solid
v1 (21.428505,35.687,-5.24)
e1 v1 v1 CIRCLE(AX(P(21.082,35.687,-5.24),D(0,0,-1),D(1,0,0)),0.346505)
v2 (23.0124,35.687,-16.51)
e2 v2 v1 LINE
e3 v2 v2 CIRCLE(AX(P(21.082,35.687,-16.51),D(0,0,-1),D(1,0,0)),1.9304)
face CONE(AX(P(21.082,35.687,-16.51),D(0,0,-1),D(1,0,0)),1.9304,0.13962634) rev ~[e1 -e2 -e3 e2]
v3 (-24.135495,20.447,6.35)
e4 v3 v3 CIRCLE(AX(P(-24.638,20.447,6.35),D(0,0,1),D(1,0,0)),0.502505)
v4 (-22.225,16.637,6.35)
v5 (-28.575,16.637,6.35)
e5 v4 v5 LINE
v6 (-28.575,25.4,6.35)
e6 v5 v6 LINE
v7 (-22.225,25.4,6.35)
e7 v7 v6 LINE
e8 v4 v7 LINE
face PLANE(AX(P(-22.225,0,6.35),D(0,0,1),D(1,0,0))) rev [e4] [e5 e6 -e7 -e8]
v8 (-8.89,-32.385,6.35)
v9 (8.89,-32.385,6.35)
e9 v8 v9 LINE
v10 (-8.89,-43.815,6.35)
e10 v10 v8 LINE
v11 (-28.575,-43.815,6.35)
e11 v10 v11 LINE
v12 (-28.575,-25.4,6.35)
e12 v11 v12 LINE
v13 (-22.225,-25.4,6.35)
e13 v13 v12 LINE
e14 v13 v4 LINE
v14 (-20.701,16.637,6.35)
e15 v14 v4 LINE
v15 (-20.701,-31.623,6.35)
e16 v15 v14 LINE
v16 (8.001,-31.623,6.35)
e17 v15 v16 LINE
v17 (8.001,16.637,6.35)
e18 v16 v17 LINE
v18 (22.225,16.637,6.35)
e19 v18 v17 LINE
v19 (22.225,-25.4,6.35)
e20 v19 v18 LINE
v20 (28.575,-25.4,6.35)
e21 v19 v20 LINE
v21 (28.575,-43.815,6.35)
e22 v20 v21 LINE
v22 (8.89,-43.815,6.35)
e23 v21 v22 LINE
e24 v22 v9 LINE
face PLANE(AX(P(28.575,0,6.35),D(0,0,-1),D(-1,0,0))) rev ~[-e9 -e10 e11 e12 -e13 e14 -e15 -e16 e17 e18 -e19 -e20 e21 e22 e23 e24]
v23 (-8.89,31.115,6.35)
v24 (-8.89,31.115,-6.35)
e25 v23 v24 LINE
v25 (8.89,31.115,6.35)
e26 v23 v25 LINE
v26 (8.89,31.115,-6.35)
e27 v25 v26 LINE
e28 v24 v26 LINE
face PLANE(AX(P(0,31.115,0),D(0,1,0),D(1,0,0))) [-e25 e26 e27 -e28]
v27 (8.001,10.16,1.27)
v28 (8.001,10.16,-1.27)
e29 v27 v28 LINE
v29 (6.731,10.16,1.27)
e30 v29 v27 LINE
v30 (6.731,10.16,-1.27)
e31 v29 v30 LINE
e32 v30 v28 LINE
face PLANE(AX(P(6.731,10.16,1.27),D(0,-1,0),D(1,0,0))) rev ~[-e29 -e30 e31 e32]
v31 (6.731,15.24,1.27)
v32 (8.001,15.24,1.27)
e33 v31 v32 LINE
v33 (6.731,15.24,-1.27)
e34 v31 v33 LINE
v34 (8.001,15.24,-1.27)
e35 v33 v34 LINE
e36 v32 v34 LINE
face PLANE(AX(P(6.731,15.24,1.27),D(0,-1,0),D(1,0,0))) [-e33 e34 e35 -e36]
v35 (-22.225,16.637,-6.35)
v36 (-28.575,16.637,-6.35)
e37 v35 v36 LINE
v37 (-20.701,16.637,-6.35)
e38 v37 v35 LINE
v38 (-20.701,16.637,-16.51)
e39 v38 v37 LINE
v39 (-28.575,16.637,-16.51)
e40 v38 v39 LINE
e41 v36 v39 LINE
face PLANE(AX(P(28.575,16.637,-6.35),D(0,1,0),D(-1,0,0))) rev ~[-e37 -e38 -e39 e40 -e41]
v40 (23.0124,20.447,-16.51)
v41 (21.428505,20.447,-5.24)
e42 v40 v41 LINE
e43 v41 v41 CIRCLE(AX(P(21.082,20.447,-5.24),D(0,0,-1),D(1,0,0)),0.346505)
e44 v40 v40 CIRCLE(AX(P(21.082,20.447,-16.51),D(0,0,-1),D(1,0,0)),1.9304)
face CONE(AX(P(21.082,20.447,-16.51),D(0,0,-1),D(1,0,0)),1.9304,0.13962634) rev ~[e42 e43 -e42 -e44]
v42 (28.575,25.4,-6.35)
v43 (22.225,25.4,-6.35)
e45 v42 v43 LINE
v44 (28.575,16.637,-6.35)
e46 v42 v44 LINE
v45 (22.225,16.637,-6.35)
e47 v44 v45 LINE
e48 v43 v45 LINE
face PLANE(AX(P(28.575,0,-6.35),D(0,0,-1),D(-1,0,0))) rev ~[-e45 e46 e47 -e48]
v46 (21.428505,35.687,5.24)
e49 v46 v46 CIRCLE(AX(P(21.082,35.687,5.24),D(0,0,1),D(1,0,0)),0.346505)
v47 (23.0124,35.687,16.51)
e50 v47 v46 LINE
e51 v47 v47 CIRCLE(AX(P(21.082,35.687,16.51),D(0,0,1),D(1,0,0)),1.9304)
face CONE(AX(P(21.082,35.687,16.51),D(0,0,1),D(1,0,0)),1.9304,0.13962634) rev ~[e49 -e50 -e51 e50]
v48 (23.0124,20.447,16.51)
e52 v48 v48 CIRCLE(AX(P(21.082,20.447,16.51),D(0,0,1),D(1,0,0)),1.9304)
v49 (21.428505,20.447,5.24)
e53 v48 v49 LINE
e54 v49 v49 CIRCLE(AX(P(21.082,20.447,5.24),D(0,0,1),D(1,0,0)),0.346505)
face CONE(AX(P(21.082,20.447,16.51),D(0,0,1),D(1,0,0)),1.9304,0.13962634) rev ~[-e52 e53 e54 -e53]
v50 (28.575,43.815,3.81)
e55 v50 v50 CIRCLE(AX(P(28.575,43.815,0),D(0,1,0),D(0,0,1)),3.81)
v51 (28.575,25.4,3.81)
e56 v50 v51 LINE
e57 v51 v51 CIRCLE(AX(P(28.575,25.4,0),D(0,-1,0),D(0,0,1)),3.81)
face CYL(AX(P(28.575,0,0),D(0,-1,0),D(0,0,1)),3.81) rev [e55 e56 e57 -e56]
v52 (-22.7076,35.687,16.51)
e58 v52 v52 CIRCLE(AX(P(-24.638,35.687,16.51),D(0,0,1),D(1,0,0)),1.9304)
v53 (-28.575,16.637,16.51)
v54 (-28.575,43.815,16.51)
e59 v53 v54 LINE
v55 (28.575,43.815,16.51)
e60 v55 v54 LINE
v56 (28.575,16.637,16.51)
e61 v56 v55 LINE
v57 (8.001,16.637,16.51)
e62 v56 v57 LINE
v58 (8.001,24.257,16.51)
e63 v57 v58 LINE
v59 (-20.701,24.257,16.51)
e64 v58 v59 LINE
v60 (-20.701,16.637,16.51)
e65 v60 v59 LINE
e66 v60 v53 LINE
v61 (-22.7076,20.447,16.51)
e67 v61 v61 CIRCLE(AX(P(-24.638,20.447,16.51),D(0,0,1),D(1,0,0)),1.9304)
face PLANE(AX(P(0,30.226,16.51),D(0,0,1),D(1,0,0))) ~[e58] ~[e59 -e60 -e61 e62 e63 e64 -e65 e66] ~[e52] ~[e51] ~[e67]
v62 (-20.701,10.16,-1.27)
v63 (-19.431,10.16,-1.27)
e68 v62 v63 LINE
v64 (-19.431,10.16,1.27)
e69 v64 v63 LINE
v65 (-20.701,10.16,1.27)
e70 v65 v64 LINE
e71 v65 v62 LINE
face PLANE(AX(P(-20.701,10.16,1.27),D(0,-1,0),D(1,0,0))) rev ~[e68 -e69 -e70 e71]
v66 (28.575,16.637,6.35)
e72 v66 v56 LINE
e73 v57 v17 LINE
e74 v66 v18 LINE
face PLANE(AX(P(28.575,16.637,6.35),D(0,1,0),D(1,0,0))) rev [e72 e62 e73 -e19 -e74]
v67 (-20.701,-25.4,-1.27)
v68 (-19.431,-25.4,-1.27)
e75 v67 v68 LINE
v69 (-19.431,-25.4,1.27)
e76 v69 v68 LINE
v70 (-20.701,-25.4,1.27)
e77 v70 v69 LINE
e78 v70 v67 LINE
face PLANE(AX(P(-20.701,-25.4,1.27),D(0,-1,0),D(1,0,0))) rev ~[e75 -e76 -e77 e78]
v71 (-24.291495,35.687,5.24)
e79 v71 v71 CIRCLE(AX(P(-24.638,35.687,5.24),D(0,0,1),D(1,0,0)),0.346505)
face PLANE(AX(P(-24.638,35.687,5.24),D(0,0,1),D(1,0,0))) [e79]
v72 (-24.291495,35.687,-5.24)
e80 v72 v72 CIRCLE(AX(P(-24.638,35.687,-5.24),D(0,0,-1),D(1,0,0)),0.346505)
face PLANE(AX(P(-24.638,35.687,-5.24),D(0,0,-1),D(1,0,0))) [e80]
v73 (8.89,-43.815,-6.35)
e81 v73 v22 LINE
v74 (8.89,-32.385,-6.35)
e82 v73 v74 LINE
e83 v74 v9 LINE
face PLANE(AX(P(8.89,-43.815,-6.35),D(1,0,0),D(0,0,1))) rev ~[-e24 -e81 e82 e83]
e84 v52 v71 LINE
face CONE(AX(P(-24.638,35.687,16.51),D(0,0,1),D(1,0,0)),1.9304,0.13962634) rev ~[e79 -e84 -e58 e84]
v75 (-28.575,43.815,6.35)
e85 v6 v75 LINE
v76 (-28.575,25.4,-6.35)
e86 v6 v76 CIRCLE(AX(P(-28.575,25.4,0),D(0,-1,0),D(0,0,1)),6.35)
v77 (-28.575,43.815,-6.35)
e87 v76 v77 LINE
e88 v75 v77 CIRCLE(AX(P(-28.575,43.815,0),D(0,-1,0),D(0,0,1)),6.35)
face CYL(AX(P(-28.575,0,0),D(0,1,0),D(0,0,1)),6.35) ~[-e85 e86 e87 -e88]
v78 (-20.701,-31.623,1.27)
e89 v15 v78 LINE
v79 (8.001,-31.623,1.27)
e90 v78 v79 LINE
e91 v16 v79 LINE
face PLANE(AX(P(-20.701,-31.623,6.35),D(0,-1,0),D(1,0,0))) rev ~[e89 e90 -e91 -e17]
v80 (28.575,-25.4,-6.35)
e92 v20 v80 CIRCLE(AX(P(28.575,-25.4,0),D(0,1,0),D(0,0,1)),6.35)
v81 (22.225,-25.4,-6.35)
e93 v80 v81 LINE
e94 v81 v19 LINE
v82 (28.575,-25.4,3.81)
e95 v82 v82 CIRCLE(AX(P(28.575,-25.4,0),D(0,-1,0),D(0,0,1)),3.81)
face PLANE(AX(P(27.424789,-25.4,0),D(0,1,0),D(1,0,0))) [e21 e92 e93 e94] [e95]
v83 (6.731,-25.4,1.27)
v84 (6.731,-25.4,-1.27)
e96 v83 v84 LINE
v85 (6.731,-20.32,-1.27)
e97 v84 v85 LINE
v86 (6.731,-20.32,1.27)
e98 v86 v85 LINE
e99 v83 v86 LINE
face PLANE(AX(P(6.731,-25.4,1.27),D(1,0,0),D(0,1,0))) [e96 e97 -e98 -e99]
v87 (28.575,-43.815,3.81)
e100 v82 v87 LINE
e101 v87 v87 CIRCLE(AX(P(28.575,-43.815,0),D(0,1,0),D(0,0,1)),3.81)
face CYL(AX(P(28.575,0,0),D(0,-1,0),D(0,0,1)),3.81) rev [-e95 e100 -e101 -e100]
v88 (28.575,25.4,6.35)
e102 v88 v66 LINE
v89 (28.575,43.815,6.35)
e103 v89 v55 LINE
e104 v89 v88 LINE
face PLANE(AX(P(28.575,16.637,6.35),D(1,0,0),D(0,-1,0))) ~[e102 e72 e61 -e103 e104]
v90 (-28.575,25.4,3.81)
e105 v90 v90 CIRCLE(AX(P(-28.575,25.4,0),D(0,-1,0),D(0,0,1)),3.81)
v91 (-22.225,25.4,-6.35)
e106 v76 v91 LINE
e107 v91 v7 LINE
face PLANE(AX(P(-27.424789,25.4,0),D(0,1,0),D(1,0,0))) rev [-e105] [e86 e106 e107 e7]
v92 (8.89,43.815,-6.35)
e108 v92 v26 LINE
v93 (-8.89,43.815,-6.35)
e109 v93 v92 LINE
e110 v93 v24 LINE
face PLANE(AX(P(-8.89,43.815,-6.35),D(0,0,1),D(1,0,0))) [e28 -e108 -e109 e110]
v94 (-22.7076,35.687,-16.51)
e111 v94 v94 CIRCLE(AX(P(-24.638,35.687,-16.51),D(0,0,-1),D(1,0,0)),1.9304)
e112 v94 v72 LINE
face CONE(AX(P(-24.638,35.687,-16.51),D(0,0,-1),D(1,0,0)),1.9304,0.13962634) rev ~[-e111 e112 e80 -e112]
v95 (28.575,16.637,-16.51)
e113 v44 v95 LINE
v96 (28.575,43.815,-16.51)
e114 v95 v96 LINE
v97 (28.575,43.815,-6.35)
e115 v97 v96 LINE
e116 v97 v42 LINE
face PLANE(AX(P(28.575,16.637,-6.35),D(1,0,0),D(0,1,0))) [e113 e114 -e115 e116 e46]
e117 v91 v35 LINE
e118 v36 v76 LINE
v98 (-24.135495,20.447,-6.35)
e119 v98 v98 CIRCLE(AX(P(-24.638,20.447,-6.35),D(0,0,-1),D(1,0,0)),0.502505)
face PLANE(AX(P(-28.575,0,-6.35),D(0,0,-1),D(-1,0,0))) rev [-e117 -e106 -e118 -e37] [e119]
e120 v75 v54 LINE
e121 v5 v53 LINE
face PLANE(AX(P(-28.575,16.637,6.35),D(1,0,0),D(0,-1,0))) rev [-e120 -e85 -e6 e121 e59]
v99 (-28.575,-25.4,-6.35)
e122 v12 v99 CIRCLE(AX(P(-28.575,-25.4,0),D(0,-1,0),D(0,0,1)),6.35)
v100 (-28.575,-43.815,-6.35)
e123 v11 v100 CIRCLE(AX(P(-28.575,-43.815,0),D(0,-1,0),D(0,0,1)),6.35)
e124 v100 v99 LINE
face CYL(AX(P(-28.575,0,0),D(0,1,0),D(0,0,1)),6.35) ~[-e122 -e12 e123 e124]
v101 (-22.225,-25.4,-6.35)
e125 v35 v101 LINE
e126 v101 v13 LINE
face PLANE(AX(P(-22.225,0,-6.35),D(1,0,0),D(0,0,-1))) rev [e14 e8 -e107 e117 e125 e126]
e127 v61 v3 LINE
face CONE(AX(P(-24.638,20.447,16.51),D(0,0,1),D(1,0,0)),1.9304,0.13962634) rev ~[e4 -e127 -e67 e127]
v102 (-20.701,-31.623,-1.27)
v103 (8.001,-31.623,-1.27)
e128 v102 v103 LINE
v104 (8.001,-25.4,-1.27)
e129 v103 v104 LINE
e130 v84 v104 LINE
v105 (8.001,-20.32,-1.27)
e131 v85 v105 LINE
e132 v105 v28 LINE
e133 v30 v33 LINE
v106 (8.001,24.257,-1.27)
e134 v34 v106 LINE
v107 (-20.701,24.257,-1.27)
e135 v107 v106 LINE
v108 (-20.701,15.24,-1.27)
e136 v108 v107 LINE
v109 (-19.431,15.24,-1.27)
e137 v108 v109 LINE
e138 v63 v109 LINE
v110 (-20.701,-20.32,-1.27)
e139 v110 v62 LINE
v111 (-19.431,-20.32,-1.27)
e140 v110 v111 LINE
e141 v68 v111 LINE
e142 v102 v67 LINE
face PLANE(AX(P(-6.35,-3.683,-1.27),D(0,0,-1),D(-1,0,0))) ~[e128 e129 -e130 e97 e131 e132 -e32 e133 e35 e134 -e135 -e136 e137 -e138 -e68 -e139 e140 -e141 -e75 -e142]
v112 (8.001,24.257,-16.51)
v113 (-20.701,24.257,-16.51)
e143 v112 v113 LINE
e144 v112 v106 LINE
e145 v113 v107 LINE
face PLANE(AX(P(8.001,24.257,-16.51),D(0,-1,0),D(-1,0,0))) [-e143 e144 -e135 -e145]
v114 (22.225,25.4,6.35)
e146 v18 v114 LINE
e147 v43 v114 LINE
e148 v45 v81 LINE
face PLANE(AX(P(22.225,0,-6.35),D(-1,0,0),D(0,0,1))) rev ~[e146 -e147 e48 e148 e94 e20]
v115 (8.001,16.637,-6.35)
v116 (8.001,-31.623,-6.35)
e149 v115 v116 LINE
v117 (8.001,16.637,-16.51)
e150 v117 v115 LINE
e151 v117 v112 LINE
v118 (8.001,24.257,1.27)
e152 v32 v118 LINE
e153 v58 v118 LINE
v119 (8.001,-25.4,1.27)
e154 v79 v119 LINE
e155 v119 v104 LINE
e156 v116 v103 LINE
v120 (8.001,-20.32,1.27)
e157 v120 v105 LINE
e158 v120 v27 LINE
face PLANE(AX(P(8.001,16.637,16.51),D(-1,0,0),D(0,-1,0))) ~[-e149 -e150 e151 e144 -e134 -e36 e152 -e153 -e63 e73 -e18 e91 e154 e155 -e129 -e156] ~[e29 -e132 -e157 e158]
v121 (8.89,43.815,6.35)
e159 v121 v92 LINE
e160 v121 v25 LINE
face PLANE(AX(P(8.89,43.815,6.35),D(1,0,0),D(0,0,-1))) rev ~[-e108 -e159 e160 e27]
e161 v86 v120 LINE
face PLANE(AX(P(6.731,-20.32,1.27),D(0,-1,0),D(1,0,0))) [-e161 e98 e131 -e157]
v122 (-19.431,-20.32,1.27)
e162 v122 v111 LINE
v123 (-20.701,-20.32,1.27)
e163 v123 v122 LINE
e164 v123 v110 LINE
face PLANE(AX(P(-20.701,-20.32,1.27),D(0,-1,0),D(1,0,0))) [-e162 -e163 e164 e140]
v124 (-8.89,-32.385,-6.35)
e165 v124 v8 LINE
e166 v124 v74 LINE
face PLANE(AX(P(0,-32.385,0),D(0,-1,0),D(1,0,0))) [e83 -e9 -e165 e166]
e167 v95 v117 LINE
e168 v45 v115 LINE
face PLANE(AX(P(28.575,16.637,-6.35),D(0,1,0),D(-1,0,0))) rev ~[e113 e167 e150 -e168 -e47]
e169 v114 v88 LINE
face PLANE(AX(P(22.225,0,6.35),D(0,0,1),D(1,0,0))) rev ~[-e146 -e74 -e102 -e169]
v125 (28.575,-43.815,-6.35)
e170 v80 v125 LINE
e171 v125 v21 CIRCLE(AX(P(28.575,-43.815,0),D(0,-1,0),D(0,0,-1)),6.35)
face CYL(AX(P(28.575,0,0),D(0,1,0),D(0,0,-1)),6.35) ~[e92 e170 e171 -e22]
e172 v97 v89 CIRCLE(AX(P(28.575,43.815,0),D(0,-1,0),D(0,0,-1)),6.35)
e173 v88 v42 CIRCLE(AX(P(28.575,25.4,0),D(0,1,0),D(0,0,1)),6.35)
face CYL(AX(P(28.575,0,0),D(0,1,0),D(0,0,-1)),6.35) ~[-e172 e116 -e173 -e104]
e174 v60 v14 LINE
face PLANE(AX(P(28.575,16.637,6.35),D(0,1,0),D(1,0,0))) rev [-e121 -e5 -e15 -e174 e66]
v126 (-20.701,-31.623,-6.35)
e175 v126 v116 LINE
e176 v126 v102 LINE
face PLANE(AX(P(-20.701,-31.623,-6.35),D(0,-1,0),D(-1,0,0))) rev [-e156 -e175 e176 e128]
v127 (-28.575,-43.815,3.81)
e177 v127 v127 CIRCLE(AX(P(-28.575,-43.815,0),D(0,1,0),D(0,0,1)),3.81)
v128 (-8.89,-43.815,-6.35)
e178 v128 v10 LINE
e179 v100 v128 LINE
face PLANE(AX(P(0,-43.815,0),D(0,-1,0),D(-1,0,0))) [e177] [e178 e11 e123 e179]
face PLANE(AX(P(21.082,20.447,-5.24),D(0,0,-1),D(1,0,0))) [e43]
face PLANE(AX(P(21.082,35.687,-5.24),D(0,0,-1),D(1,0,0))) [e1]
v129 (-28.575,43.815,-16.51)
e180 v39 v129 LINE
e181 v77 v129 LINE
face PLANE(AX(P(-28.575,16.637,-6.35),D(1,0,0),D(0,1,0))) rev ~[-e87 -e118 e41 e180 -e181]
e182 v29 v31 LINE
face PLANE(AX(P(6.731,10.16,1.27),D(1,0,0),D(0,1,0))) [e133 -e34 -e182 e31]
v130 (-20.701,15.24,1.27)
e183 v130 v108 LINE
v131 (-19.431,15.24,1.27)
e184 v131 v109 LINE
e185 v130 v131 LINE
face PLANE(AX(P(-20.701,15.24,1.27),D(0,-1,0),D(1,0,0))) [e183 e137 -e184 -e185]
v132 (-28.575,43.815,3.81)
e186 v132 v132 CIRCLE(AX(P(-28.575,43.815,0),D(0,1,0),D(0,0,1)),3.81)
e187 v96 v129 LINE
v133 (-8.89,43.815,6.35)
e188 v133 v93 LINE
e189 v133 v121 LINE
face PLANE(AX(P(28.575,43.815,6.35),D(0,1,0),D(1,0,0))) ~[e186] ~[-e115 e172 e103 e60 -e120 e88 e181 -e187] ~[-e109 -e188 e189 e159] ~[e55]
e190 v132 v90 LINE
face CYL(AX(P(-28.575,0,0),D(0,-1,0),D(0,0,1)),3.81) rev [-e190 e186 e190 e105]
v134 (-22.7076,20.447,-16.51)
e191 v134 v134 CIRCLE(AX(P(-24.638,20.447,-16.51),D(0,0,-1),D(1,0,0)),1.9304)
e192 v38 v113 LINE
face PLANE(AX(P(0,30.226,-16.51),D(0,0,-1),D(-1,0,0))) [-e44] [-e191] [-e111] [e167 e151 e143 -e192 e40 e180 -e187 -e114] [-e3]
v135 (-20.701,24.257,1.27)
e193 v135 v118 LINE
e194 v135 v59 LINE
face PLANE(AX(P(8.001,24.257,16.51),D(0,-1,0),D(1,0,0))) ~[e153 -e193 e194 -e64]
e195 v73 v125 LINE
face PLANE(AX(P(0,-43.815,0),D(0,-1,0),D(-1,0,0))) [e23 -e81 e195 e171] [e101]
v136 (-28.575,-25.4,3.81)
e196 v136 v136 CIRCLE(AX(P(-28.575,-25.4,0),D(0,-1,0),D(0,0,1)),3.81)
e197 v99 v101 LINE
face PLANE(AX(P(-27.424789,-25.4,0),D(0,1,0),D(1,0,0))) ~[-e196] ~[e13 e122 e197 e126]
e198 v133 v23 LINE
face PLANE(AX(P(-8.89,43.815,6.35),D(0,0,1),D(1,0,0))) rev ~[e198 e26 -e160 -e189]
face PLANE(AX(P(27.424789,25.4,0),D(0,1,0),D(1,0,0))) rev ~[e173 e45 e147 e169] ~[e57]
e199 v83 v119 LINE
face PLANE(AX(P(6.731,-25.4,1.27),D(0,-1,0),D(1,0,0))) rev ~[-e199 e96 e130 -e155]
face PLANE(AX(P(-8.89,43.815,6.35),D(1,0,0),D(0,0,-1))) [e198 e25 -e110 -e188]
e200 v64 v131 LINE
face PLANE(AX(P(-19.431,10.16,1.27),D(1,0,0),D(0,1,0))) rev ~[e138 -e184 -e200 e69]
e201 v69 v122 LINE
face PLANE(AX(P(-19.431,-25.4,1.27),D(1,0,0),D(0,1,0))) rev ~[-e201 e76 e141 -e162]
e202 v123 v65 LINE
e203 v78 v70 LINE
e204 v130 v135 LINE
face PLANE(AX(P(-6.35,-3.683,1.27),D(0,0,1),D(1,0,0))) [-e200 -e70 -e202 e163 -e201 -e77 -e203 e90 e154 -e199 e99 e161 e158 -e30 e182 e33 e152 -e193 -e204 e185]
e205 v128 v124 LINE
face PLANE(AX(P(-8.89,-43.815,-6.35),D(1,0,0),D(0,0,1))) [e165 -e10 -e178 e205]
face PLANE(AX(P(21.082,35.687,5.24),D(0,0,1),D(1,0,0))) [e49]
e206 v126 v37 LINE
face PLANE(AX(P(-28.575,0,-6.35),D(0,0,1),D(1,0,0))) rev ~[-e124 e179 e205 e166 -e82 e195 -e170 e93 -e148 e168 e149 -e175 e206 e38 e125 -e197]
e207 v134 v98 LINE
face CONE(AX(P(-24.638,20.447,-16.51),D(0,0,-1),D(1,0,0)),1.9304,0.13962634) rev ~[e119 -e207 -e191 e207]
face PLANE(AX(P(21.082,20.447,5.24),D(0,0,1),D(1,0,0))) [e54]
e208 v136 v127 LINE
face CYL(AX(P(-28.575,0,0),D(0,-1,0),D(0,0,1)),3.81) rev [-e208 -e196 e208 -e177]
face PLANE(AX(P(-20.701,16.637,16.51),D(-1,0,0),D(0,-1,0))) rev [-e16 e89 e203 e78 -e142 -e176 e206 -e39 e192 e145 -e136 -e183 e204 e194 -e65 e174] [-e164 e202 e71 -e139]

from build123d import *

# Parameters (mm, degrees)
SKETCH2_R                    = 3.81
BOSS_EXTRUDE1_DEPTH          = 43.815
SKETCH7_W                    = 28.702
SKETCH7_H                    = 55.88
CUT_EXTRUDE3_DEPTH           = 5.08
SKETCH11_W                   = 57.15
SKETCH11_H                   = 27.178
BOSS_EXTRUDE2_DEPTH          = 10.16
SKETCH14_W                   = 28.702
SKETCH14_H                   = 7.62
CUT_EXTRUDE4_DEPTH           = 10.16
SKETCH16_W                   = 17.78
SKETCH16_H                   = 12.7
CUT_EXTRUDE5_DEPTH           = 12.7
SKETCH17_W                   = 17.78
SKETCH17_H                   = 12.7
CUT_EXTRUDE6_DEPTH           = 11.43
CUT_EXTRUDE7_DEPTH           = 25.4
SKETCH21_W                   = 1.27
SKETCH21_H                   = 5.08
CUT_EXTRUDE8_DEPTH           = 59.784677
SKETCH23_R                   = 1.9304
CUT_EXTRUDE9_DEPTH           = 11.27
CUT_EXTRUDE9_DRAFT           = -8
CUT_EXTRUDE9_PROFILE_2_DEPTH = 11.27
CUT_EXTRUDE9_PROFILE_2_DRAFT = -8
CUT_EXTRUDE9_PROFILE_3_DEPTH = 11.27
CUT_EXTRUDE9_PROFILE_3_DRAFT = -8
CUT_EXTRUDE9_PROFILE_4_DEPTH = 11.27
CUT_EXTRUDE9_PROFILE_4_DRAFT = -8
MIRROR8_COPY_1_SKETCH_R      = 1.9304
MIRROR8_COPY_1_DEPTH         = 11.27
MIRROR8_COPY_1_DRAFT         = -8
MIRROR8_COPY_2_SKETCH_R      = 1.9304
MIRROR8_COPY_2_DEPTH         = 11.27
MIRROR8_COPY_2_DRAFT         = -8
MIRROR8_COPY_3_SKETCH_R      = 1.9304
MIRROR8_COPY_3_DEPTH         = 11.27
MIRROR8_COPY_3_DRAFT         = -8
MIRROR8_COPY_4_SKETCH_R      = 1.9304
MIRROR8_COPY_4_DEPTH         = 11.27
MIRROR8_COPY_4_DRAFT         = -8
MIRROR8_COPY_5_SKETCH_R      = 1.9304
MIRROR8_COPY_5_DEPTH         = 11.27
MIRROR8_COPY_5_DRAFT         = -8
MIRROR8_COPY_6_SKETCH_R      = 1.9304
MIRROR8_COPY_6_DEPTH         = 11.27
MIRROR8_COPY_6_DRAFT         = -8
MIRROR8_COPY_7_SKETCH_R      = 1.9304
MIRROR8_COPY_7_DEPTH         = 11.27
MIRROR8_COPY_7_DRAFT         = -8


with BuildPart() as part:
    # Sketch2 → Boss-Extrude1 (new, symmetric)
    with BuildSketch(Plane(origin=(0, 0, 0), x_dir=(1, 0, 0), z_dir=(0, 1, 0))):
        with BuildLine():
            Line((-28.575, 6.35), (28.575, 6.35))
            ThreePointArc((28.575, 6.35), (34.925, 0), (28.575, -6.35))
            Line((28.575, -6.35), (-28.575, -6.35))
            ThreePointArc((-28.575, -6.35), (-34.925, 0), (-28.575, 6.35))
        make_face()
        with Locations(Location((28.575, 0, 0), (0, 0, 270))):
            Circle(SKETCH2_R, mode=Mode.SUBTRACT)
        with Locations(Location((-28.575, 0, 0), (0, 0, 270))):
            Circle(SKETCH2_R, mode=Mode.SUBTRACT)
    extrude(amount=BOSS_EXTRUDE1_DEPTH, both=True)

    # Sketch7 → Cut-Extrude3 (cut)
    with BuildSketch(Plane.XY.offset(6.35)):
        with Locations((-6.35, -3.683)):
            Rectangle(SKETCH7_W, SKETCH7_H)
    cut_extrude3 = extrude(amount=-CUT_EXTRUDE3_DEPTH, mode=Mode.SUBTRACT)

    # Mirror1: Cut-Extrude3 across plane
    add(cut_extrude3.mirror(Plane.XY), mode=Mode.SUBTRACT)

    # Sketch11 → Boss-Extrude2 (add)
    with BuildSketch(Plane(origin=(0, 0, -6.35), x_dir=(-1, 0, 0), z_dir=(0, 0, -1))):
        with Locations((0, 30.226)):
            Rectangle(SKETCH11_W, SKETCH11_H)
    boss_extrude2 = extrude(amount=BOSS_EXTRUDE2_DEPTH)

    # Mirror3: Boss-Extrude2 across plane
    add(boss_extrude2.mirror(Plane.XY))

    # Sketch14 → Cut-Extrude4 (cut)
    with BuildSketch(Plane(origin=(0, 0, -16.51), x_dir=(-1, 0, 0), z_dir=(0, 0, -1))):
        with Locations((6.35, 20.447)):
            Rectangle(SKETCH14_W, SKETCH14_H)
    cut_extrude4 = extrude(amount=-CUT_EXTRUDE4_DEPTH, mode=Mode.SUBTRACT)

    # Mirror4: Cut-Extrude4 across plane
    add(cut_extrude4.mirror(Plane.XY), mode=Mode.SUBTRACT)

    # Sketch16 → Cut-Extrude5 (cut)
    with BuildSketch(Plane(origin=(0, 43.815, 0), x_dir=(1, 0, 0), z_dir=(0, 1, 0))):
        Rectangle(SKETCH16_W, SKETCH16_H)
    extrude(amount=-CUT_EXTRUDE5_DEPTH, mode=Mode.SUBTRACT)

    # Sketch17 → Cut-Extrude6 (cut)
    with BuildSketch(Plane.XZ.offset(43.815)):
        Rectangle(SKETCH17_W, SKETCH17_H)
    extrude(amount=-CUT_EXTRUDE6_DEPTH, mode=Mode.SUBTRACT)

    # Sketch19 → Cut-Extrude7 (cut, symmetric)
    with BuildSketch(Plane(origin=(0, 0, 0), x_dir=(1, 0, 0), z_dir=(0, 1, 0))):
        with BuildLine():
            Line((22.225, 6.35), (22.225, -6.35))
            Line((22.225, -6.35), (28.575, -6.35))
            ThreePointArc((28.575, -6.35), (34.925, 0), (28.575, 6.35))
            Line((28.575, 6.35), (22.225, 6.35))
        make_face()
    cut_extrude7 = extrude(amount=CUT_EXTRUDE7_DEPTH, both=True, mode=Mode.SUBTRACT)

    # Mirror5: Cut-Extrude7 across plane
    add(cut_extrude7.mirror(Plane(origin=(0, 0, 0), x_dir=(0, 0, 1), z_dir=(1, 0, 0))), mode=Mode.SUBTRACT)

    # Sketch21 → Cut-Extrude8 (cut, through all)
    with BuildSketch(Plane.XY.offset(1.27)):
        with Locations((7.366, 12.7)):
            Rectangle(SKETCH21_W, SKETCH21_H)
        with Locations((-20.066, 12.7)):
            Rectangle(SKETCH21_W, SKETCH21_H)
        with Locations((7.366, -22.86)):
            Rectangle(SKETCH21_W, SKETCH21_H)
        with Locations((-20.066, -22.86)):
            Rectangle(SKETCH21_W, SKETCH21_H)
    extrude(amount=-CUT_EXTRUDE8_DEPTH, mode=Mode.SUBTRACT)


with BuildPart() as cut_extrude9_tool:
    # Sketch23 → Cut-Extrude9 (with draft: the straight prism first)
    with BuildSketch(Plane.XY.offset(16.51)):
        with Locations((-24.638, 20.447)):
            Circle(SKETCH23_R)
    extrude(amount=-CUT_EXTRUDE9_DEPTH)
    # Cut-Extrude9: the draft: its side faces are tilted about the plane it starts from
    cut_extrude9_sides = [cut_extrude9_tool.faces().sort_by_distance(p)[0] for p in [
        (-26.5684, 20.447, 10.875),
    ]]
    draft(cut_extrude9_sides, Plane.XY.offset(16.51), CUT_EXTRUDE9_DRAFT)


with BuildPart() as part_1:
    add(part.part)

    # Cut-Extrude9: cut by cut_extrude9_tool
    add(cut_extrude9_tool.part, mode=Mode.SUBTRACT)


with BuildPart() as cut_extrude9_profile_2_tool:
    # Sketch23 → Cut-Extrude9 profile 2 (with draft: the straight prism first)
    with BuildSketch(Plane.XY.offset(16.51)):
        with Locations((-24.638, 35.687)):
            Circle(SKETCH23_R)
    extrude(amount=-CUT_EXTRUDE9_PROFILE_2_DEPTH)
    # Cut-Extrude9 profile 2: the draft: its side faces are tilted about the plane it starts from
    cut_extrude9_profile_2_sides = [cut_extrude9_profile_2_tool.faces().sort_by_distance(p)[0] for p in [
        (-26.5684, 35.687, 10.875),
    ]]
    draft(cut_extrude9_profile_2_sides, Plane.XY.offset(16.51), CUT_EXTRUDE9_PROFILE_2_DRAFT)


with BuildPart() as part_2:
    add(part_1.part)

    # Cut-Extrude9 profile 2: cut by cut_extrude9_profile_2_tool
    add(cut_extrude9_profile_2_tool.part, mode=Mode.SUBTRACT)


with BuildPart() as cut_extrude9_profile_3_tool:
    # Sketch23 → Cut-Extrude9 profile 3 (with draft: the straight prism first)
    with BuildSketch(Plane.XY.offset(16.51)):
        with Locations((21.082, 20.447)):
            Circle(SKETCH23_R)
    extrude(amount=-CUT_EXTRUDE9_PROFILE_3_DEPTH)
    # Cut-Extrude9 profile 3: the draft: its side faces are tilted about the plane it starts from
    cut_extrude9_profile_3_sides = [cut_extrude9_profile_3_tool.faces().sort_by_distance(p)[0] for p in [
        (19.1516, 20.447, 10.875),
    ]]
    draft(cut_extrude9_profile_3_sides, Plane.XY.offset(16.51), CUT_EXTRUDE9_PROFILE_3_DRAFT)


with BuildPart() as part_3:
    add(part_2.part)

    # Cut-Extrude9 profile 3: cut by cut_extrude9_profile_3_tool
    add(cut_extrude9_profile_3_tool.part, mode=Mode.SUBTRACT)


with BuildPart() as cut_extrude9_profile_4_tool:
    # Sketch23 → Cut-Extrude9 profile 4 (with draft: the straight prism first)
    with BuildSketch(Plane.XY.offset(16.51)):
        with Locations((21.082, 35.687)):
            Circle(SKETCH23_R)
    extrude(amount=-CUT_EXTRUDE9_PROFILE_4_DEPTH)
    # Cut-Extrude9 profile 4: the draft: its side faces are tilted about the plane it starts from
    cut_extrude9_profile_4_sides = [cut_extrude9_profile_4_tool.faces().sort_by_distance(p)[0] for p in [
        (19.1516, 35.687, 10.875),
    ]]
    draft(cut_extrude9_profile_4_sides, Plane.XY.offset(16.51), CUT_EXTRUDE9_PROFILE_4_DRAFT)


with BuildPart() as part_4:
    add(part_3.part)

    # Cut-Extrude9 profile 4: cut by cut_extrude9_profile_4_tool
    add(cut_extrude9_profile_4_tool.part, mode=Mode.SUBTRACT)


with BuildPart() as mirror8_copy_1_tool:
    # Mirror8 copy 1 sketch → Mirror8 copy 1 (with draft: the straight prism first)
    with BuildSketch(Plane(origin=(0, 0, -16.51), x_dir=(1, 0, 0), z_dir=(0, 0, -1))):
        with Locations((-24.638, -20.447)):
            Circle(MIRROR8_COPY_1_SKETCH_R)
    extrude(amount=-MIRROR8_COPY_1_DEPTH)
    # Mirror8 copy 1: the draft: its side faces are tilted about the plane it starts from
    mirror8_copy_1_sides = [mirror8_copy_1_tool.faces().sort_by_distance(p)[0] for p in [
        (-26.5684, 20.447, -10.875),
    ]]
    draft(mirror8_copy_1_sides, Plane(origin=(0, 0, -16.51), x_dir=(1, 0, 0), z_dir=(0, 0, -1)), MIRROR8_COPY_1_DRAFT)


with BuildPart() as part_5:
    add(part_4.part)

    # Mirror8 copy 1: cut by mirror8_copy_1_tool
    add(mirror8_copy_1_tool.part, mode=Mode.SUBTRACT)


with BuildPart() as mirror8_copy_2_tool:
    # Mirror8 copy 2 sketch → Mirror8 copy 2 (with draft: the straight prism first)
    with BuildSketch(Plane(origin=(0, 0, -16.51), x_dir=(1, 0, 0), z_dir=(0, 0, -1))):
        with Locations((-24.638, -35.687)):
            Circle(MIRROR8_COPY_2_SKETCH_R)
    extrude(amount=-MIRROR8_COPY_2_DEPTH)
    # Mirror8 copy 2: the draft: its side faces are tilted about the plane it starts from
    mirror8_copy_2_sides = [mirror8_copy_2_tool.faces().sort_by_distance(p)[0] for p in [
        (-26.5684, 35.687, -10.875),
    ]]
    draft(mirror8_copy_2_sides, Plane(origin=(0, 0, -16.51), x_dir=(1, 0, 0), z_dir=(0, 0, -1)), MIRROR8_COPY_2_DRAFT)


with BuildPart() as part_6:
    add(part_5.part)

    # Mirror8 copy 2: cut by mirror8_copy_2_tool
    add(mirror8_copy_2_tool.part, mode=Mode.SUBTRACT)


with BuildPart() as mirror8_copy_3_tool:
    # Mirror8 copy 3 sketch → Mirror8 copy 3 (with draft: the straight prism first)
    with BuildSketch(Plane(origin=(0, 0, -16.51), x_dir=(1, 0, 0), z_dir=(0, 0, -1))):
        with Locations((21.082, -20.447)):
            Circle(MIRROR8_COPY_3_SKETCH_R)
    extrude(amount=-MIRROR8_COPY_3_DEPTH)
    # Mirror8 copy 3: the draft: its side faces are tilted about the plane it starts from
    mirror8_copy_3_sides = [mirror8_copy_3_tool.faces().sort_by_distance(p)[0] for p in [
        (19.1516, 20.447, -10.875),
    ]]
    draft(mirror8_copy_3_sides, Plane(origin=(0, 0, -16.51), x_dir=(1, 0, 0), z_dir=(0, 0, -1)), MIRROR8_COPY_3_DRAFT)


with BuildPart() as part_7:
    add(part_6.part)

    # Mirror8 copy 3: cut by mirror8_copy_3_tool
    add(mirror8_copy_3_tool.part, mode=Mode.SUBTRACT)


with BuildPart() as mirror8_copy_4_tool:
    # Mirror8 copy 4 sketch → Mirror8 copy 4 (with draft: the straight prism first)
    with BuildSketch(Plane(origin=(0, 0, -16.51), x_dir=(1, 0, 0), z_dir=(0, 0, -1))):
        with Locations((21.082, -35.687)):
            Circle(MIRROR8_COPY_4_SKETCH_R)
    extrude(amount=-MIRROR8_COPY_4_DEPTH)
    # Mirror8 copy 4: the draft: its side faces are tilted about the plane it starts from
    mirror8_copy_4_sides = [mirror8_copy_4_tool.faces().sort_by_distance(p)[0] for p in [
        (19.1516, 35.687, -10.875),
    ]]
    draft(mirror8_copy_4_sides, Plane(origin=(0, 0, -16.51), x_dir=(1, 0, 0), z_dir=(0, 0, -1)), MIRROR8_COPY_4_DRAFT)


with BuildPart() as part_8:
    add(part_7.part)

    # Mirror8 copy 4: cut by mirror8_copy_4_tool
    add(mirror8_copy_4_tool.part, mode=Mode.SUBTRACT)


with BuildPart() as mirror8_copy_5_tool:
    # Mirror8 copy 5 sketch → Mirror8 copy 5 (with draft: the straight prism first)
    with BuildSketch(Plane(origin=(0, 0, -16.51), x_dir=(1, 0, 0), z_dir=(0, 0, -1))):
        with Locations((-24.638, -35.687)):
            Circle(MIRROR8_COPY_5_SKETCH_R)
    extrude(amount=-MIRROR8_COPY_5_DEPTH)
    # Mirror8 copy 5: the draft: its side faces are tilted about the plane it starts from
    mirror8_copy_5_sides = [mirror8_copy_5_tool.faces().sort_by_distance(p)[0] for p in [
        (-26.5684, 35.687, -10.875),
    ]]
    draft(mirror8_copy_5_sides, Plane(origin=(0, 0, -16.51), x_dir=(1, 0, 0), z_dir=(0, 0, -1)), MIRROR8_COPY_5_DRAFT)


with BuildPart() as part_9:
    add(part_8.part)

    # Mirror8 copy 5: cut by mirror8_copy_5_tool
    add(mirror8_copy_5_tool.part, mode=Mode.SUBTRACT)


with BuildPart() as mirror8_copy_6_tool:
    # Mirror8 copy 6 sketch → Mirror8 copy 6 (with draft: the straight prism first)
    with BuildSketch(Plane(origin=(0, 0, -16.51), x_dir=(1, 0, 0), z_dir=(0, 0, -1))):
        with Locations((21.082, -20.447)):
            Circle(MIRROR8_COPY_6_SKETCH_R)
    extrude(amount=-MIRROR8_COPY_6_DEPTH)
    # Mirror8 copy 6: the draft: its side faces are tilted about the plane it starts from
    mirror8_copy_6_sides = [mirror8_copy_6_tool.faces().sort_by_distance(p)[0] for p in [
        (19.1516, 20.447, -10.875),
    ]]
    draft(mirror8_copy_6_sides, Plane(origin=(0, 0, -16.51), x_dir=(1, 0, 0), z_dir=(0, 0, -1)), MIRROR8_COPY_6_DRAFT)


with BuildPart() as part_10:
    add(part_9.part)

    # Mirror8 copy 6: cut by mirror8_copy_6_tool
    add(mirror8_copy_6_tool.part, mode=Mode.SUBTRACT)


with BuildPart() as mirror8_copy_7_tool:
    # Mirror8 copy 7 sketch → Mirror8 copy 7 (with draft: the straight prism first)
    with BuildSketch(Plane(origin=(0, 0, -16.51), x_dir=(1, 0, 0), z_dir=(0, 0, -1))):
        with Locations((21.082, -35.687)):
            Circle(MIRROR8_COPY_7_SKETCH_R)
    extrude(amount=-MIRROR8_COPY_7_DEPTH)
    # Mirror8 copy 7: the draft: its side faces are tilted about the plane it starts from
    mirror8_copy_7_sides = [mirror8_copy_7_tool.faces().sort_by_distance(p)[0] for p in [
        (19.1516, 35.687, -10.875),
    ]]
    draft(mirror8_copy_7_sides, Plane(origin=(0, 0, -16.51), x_dir=(1, 0, 0), z_dir=(0, 0, -1)), MIRROR8_COPY_7_DRAFT)


with BuildPart() as part_11:
    add(part_10.part)

    # Mirror8 copy 7: cut by mirror8_copy_7_tool
    add(mirror8_copy_7_tool.part, mode=Mode.SUBTRACT)


solid = part_11.part
